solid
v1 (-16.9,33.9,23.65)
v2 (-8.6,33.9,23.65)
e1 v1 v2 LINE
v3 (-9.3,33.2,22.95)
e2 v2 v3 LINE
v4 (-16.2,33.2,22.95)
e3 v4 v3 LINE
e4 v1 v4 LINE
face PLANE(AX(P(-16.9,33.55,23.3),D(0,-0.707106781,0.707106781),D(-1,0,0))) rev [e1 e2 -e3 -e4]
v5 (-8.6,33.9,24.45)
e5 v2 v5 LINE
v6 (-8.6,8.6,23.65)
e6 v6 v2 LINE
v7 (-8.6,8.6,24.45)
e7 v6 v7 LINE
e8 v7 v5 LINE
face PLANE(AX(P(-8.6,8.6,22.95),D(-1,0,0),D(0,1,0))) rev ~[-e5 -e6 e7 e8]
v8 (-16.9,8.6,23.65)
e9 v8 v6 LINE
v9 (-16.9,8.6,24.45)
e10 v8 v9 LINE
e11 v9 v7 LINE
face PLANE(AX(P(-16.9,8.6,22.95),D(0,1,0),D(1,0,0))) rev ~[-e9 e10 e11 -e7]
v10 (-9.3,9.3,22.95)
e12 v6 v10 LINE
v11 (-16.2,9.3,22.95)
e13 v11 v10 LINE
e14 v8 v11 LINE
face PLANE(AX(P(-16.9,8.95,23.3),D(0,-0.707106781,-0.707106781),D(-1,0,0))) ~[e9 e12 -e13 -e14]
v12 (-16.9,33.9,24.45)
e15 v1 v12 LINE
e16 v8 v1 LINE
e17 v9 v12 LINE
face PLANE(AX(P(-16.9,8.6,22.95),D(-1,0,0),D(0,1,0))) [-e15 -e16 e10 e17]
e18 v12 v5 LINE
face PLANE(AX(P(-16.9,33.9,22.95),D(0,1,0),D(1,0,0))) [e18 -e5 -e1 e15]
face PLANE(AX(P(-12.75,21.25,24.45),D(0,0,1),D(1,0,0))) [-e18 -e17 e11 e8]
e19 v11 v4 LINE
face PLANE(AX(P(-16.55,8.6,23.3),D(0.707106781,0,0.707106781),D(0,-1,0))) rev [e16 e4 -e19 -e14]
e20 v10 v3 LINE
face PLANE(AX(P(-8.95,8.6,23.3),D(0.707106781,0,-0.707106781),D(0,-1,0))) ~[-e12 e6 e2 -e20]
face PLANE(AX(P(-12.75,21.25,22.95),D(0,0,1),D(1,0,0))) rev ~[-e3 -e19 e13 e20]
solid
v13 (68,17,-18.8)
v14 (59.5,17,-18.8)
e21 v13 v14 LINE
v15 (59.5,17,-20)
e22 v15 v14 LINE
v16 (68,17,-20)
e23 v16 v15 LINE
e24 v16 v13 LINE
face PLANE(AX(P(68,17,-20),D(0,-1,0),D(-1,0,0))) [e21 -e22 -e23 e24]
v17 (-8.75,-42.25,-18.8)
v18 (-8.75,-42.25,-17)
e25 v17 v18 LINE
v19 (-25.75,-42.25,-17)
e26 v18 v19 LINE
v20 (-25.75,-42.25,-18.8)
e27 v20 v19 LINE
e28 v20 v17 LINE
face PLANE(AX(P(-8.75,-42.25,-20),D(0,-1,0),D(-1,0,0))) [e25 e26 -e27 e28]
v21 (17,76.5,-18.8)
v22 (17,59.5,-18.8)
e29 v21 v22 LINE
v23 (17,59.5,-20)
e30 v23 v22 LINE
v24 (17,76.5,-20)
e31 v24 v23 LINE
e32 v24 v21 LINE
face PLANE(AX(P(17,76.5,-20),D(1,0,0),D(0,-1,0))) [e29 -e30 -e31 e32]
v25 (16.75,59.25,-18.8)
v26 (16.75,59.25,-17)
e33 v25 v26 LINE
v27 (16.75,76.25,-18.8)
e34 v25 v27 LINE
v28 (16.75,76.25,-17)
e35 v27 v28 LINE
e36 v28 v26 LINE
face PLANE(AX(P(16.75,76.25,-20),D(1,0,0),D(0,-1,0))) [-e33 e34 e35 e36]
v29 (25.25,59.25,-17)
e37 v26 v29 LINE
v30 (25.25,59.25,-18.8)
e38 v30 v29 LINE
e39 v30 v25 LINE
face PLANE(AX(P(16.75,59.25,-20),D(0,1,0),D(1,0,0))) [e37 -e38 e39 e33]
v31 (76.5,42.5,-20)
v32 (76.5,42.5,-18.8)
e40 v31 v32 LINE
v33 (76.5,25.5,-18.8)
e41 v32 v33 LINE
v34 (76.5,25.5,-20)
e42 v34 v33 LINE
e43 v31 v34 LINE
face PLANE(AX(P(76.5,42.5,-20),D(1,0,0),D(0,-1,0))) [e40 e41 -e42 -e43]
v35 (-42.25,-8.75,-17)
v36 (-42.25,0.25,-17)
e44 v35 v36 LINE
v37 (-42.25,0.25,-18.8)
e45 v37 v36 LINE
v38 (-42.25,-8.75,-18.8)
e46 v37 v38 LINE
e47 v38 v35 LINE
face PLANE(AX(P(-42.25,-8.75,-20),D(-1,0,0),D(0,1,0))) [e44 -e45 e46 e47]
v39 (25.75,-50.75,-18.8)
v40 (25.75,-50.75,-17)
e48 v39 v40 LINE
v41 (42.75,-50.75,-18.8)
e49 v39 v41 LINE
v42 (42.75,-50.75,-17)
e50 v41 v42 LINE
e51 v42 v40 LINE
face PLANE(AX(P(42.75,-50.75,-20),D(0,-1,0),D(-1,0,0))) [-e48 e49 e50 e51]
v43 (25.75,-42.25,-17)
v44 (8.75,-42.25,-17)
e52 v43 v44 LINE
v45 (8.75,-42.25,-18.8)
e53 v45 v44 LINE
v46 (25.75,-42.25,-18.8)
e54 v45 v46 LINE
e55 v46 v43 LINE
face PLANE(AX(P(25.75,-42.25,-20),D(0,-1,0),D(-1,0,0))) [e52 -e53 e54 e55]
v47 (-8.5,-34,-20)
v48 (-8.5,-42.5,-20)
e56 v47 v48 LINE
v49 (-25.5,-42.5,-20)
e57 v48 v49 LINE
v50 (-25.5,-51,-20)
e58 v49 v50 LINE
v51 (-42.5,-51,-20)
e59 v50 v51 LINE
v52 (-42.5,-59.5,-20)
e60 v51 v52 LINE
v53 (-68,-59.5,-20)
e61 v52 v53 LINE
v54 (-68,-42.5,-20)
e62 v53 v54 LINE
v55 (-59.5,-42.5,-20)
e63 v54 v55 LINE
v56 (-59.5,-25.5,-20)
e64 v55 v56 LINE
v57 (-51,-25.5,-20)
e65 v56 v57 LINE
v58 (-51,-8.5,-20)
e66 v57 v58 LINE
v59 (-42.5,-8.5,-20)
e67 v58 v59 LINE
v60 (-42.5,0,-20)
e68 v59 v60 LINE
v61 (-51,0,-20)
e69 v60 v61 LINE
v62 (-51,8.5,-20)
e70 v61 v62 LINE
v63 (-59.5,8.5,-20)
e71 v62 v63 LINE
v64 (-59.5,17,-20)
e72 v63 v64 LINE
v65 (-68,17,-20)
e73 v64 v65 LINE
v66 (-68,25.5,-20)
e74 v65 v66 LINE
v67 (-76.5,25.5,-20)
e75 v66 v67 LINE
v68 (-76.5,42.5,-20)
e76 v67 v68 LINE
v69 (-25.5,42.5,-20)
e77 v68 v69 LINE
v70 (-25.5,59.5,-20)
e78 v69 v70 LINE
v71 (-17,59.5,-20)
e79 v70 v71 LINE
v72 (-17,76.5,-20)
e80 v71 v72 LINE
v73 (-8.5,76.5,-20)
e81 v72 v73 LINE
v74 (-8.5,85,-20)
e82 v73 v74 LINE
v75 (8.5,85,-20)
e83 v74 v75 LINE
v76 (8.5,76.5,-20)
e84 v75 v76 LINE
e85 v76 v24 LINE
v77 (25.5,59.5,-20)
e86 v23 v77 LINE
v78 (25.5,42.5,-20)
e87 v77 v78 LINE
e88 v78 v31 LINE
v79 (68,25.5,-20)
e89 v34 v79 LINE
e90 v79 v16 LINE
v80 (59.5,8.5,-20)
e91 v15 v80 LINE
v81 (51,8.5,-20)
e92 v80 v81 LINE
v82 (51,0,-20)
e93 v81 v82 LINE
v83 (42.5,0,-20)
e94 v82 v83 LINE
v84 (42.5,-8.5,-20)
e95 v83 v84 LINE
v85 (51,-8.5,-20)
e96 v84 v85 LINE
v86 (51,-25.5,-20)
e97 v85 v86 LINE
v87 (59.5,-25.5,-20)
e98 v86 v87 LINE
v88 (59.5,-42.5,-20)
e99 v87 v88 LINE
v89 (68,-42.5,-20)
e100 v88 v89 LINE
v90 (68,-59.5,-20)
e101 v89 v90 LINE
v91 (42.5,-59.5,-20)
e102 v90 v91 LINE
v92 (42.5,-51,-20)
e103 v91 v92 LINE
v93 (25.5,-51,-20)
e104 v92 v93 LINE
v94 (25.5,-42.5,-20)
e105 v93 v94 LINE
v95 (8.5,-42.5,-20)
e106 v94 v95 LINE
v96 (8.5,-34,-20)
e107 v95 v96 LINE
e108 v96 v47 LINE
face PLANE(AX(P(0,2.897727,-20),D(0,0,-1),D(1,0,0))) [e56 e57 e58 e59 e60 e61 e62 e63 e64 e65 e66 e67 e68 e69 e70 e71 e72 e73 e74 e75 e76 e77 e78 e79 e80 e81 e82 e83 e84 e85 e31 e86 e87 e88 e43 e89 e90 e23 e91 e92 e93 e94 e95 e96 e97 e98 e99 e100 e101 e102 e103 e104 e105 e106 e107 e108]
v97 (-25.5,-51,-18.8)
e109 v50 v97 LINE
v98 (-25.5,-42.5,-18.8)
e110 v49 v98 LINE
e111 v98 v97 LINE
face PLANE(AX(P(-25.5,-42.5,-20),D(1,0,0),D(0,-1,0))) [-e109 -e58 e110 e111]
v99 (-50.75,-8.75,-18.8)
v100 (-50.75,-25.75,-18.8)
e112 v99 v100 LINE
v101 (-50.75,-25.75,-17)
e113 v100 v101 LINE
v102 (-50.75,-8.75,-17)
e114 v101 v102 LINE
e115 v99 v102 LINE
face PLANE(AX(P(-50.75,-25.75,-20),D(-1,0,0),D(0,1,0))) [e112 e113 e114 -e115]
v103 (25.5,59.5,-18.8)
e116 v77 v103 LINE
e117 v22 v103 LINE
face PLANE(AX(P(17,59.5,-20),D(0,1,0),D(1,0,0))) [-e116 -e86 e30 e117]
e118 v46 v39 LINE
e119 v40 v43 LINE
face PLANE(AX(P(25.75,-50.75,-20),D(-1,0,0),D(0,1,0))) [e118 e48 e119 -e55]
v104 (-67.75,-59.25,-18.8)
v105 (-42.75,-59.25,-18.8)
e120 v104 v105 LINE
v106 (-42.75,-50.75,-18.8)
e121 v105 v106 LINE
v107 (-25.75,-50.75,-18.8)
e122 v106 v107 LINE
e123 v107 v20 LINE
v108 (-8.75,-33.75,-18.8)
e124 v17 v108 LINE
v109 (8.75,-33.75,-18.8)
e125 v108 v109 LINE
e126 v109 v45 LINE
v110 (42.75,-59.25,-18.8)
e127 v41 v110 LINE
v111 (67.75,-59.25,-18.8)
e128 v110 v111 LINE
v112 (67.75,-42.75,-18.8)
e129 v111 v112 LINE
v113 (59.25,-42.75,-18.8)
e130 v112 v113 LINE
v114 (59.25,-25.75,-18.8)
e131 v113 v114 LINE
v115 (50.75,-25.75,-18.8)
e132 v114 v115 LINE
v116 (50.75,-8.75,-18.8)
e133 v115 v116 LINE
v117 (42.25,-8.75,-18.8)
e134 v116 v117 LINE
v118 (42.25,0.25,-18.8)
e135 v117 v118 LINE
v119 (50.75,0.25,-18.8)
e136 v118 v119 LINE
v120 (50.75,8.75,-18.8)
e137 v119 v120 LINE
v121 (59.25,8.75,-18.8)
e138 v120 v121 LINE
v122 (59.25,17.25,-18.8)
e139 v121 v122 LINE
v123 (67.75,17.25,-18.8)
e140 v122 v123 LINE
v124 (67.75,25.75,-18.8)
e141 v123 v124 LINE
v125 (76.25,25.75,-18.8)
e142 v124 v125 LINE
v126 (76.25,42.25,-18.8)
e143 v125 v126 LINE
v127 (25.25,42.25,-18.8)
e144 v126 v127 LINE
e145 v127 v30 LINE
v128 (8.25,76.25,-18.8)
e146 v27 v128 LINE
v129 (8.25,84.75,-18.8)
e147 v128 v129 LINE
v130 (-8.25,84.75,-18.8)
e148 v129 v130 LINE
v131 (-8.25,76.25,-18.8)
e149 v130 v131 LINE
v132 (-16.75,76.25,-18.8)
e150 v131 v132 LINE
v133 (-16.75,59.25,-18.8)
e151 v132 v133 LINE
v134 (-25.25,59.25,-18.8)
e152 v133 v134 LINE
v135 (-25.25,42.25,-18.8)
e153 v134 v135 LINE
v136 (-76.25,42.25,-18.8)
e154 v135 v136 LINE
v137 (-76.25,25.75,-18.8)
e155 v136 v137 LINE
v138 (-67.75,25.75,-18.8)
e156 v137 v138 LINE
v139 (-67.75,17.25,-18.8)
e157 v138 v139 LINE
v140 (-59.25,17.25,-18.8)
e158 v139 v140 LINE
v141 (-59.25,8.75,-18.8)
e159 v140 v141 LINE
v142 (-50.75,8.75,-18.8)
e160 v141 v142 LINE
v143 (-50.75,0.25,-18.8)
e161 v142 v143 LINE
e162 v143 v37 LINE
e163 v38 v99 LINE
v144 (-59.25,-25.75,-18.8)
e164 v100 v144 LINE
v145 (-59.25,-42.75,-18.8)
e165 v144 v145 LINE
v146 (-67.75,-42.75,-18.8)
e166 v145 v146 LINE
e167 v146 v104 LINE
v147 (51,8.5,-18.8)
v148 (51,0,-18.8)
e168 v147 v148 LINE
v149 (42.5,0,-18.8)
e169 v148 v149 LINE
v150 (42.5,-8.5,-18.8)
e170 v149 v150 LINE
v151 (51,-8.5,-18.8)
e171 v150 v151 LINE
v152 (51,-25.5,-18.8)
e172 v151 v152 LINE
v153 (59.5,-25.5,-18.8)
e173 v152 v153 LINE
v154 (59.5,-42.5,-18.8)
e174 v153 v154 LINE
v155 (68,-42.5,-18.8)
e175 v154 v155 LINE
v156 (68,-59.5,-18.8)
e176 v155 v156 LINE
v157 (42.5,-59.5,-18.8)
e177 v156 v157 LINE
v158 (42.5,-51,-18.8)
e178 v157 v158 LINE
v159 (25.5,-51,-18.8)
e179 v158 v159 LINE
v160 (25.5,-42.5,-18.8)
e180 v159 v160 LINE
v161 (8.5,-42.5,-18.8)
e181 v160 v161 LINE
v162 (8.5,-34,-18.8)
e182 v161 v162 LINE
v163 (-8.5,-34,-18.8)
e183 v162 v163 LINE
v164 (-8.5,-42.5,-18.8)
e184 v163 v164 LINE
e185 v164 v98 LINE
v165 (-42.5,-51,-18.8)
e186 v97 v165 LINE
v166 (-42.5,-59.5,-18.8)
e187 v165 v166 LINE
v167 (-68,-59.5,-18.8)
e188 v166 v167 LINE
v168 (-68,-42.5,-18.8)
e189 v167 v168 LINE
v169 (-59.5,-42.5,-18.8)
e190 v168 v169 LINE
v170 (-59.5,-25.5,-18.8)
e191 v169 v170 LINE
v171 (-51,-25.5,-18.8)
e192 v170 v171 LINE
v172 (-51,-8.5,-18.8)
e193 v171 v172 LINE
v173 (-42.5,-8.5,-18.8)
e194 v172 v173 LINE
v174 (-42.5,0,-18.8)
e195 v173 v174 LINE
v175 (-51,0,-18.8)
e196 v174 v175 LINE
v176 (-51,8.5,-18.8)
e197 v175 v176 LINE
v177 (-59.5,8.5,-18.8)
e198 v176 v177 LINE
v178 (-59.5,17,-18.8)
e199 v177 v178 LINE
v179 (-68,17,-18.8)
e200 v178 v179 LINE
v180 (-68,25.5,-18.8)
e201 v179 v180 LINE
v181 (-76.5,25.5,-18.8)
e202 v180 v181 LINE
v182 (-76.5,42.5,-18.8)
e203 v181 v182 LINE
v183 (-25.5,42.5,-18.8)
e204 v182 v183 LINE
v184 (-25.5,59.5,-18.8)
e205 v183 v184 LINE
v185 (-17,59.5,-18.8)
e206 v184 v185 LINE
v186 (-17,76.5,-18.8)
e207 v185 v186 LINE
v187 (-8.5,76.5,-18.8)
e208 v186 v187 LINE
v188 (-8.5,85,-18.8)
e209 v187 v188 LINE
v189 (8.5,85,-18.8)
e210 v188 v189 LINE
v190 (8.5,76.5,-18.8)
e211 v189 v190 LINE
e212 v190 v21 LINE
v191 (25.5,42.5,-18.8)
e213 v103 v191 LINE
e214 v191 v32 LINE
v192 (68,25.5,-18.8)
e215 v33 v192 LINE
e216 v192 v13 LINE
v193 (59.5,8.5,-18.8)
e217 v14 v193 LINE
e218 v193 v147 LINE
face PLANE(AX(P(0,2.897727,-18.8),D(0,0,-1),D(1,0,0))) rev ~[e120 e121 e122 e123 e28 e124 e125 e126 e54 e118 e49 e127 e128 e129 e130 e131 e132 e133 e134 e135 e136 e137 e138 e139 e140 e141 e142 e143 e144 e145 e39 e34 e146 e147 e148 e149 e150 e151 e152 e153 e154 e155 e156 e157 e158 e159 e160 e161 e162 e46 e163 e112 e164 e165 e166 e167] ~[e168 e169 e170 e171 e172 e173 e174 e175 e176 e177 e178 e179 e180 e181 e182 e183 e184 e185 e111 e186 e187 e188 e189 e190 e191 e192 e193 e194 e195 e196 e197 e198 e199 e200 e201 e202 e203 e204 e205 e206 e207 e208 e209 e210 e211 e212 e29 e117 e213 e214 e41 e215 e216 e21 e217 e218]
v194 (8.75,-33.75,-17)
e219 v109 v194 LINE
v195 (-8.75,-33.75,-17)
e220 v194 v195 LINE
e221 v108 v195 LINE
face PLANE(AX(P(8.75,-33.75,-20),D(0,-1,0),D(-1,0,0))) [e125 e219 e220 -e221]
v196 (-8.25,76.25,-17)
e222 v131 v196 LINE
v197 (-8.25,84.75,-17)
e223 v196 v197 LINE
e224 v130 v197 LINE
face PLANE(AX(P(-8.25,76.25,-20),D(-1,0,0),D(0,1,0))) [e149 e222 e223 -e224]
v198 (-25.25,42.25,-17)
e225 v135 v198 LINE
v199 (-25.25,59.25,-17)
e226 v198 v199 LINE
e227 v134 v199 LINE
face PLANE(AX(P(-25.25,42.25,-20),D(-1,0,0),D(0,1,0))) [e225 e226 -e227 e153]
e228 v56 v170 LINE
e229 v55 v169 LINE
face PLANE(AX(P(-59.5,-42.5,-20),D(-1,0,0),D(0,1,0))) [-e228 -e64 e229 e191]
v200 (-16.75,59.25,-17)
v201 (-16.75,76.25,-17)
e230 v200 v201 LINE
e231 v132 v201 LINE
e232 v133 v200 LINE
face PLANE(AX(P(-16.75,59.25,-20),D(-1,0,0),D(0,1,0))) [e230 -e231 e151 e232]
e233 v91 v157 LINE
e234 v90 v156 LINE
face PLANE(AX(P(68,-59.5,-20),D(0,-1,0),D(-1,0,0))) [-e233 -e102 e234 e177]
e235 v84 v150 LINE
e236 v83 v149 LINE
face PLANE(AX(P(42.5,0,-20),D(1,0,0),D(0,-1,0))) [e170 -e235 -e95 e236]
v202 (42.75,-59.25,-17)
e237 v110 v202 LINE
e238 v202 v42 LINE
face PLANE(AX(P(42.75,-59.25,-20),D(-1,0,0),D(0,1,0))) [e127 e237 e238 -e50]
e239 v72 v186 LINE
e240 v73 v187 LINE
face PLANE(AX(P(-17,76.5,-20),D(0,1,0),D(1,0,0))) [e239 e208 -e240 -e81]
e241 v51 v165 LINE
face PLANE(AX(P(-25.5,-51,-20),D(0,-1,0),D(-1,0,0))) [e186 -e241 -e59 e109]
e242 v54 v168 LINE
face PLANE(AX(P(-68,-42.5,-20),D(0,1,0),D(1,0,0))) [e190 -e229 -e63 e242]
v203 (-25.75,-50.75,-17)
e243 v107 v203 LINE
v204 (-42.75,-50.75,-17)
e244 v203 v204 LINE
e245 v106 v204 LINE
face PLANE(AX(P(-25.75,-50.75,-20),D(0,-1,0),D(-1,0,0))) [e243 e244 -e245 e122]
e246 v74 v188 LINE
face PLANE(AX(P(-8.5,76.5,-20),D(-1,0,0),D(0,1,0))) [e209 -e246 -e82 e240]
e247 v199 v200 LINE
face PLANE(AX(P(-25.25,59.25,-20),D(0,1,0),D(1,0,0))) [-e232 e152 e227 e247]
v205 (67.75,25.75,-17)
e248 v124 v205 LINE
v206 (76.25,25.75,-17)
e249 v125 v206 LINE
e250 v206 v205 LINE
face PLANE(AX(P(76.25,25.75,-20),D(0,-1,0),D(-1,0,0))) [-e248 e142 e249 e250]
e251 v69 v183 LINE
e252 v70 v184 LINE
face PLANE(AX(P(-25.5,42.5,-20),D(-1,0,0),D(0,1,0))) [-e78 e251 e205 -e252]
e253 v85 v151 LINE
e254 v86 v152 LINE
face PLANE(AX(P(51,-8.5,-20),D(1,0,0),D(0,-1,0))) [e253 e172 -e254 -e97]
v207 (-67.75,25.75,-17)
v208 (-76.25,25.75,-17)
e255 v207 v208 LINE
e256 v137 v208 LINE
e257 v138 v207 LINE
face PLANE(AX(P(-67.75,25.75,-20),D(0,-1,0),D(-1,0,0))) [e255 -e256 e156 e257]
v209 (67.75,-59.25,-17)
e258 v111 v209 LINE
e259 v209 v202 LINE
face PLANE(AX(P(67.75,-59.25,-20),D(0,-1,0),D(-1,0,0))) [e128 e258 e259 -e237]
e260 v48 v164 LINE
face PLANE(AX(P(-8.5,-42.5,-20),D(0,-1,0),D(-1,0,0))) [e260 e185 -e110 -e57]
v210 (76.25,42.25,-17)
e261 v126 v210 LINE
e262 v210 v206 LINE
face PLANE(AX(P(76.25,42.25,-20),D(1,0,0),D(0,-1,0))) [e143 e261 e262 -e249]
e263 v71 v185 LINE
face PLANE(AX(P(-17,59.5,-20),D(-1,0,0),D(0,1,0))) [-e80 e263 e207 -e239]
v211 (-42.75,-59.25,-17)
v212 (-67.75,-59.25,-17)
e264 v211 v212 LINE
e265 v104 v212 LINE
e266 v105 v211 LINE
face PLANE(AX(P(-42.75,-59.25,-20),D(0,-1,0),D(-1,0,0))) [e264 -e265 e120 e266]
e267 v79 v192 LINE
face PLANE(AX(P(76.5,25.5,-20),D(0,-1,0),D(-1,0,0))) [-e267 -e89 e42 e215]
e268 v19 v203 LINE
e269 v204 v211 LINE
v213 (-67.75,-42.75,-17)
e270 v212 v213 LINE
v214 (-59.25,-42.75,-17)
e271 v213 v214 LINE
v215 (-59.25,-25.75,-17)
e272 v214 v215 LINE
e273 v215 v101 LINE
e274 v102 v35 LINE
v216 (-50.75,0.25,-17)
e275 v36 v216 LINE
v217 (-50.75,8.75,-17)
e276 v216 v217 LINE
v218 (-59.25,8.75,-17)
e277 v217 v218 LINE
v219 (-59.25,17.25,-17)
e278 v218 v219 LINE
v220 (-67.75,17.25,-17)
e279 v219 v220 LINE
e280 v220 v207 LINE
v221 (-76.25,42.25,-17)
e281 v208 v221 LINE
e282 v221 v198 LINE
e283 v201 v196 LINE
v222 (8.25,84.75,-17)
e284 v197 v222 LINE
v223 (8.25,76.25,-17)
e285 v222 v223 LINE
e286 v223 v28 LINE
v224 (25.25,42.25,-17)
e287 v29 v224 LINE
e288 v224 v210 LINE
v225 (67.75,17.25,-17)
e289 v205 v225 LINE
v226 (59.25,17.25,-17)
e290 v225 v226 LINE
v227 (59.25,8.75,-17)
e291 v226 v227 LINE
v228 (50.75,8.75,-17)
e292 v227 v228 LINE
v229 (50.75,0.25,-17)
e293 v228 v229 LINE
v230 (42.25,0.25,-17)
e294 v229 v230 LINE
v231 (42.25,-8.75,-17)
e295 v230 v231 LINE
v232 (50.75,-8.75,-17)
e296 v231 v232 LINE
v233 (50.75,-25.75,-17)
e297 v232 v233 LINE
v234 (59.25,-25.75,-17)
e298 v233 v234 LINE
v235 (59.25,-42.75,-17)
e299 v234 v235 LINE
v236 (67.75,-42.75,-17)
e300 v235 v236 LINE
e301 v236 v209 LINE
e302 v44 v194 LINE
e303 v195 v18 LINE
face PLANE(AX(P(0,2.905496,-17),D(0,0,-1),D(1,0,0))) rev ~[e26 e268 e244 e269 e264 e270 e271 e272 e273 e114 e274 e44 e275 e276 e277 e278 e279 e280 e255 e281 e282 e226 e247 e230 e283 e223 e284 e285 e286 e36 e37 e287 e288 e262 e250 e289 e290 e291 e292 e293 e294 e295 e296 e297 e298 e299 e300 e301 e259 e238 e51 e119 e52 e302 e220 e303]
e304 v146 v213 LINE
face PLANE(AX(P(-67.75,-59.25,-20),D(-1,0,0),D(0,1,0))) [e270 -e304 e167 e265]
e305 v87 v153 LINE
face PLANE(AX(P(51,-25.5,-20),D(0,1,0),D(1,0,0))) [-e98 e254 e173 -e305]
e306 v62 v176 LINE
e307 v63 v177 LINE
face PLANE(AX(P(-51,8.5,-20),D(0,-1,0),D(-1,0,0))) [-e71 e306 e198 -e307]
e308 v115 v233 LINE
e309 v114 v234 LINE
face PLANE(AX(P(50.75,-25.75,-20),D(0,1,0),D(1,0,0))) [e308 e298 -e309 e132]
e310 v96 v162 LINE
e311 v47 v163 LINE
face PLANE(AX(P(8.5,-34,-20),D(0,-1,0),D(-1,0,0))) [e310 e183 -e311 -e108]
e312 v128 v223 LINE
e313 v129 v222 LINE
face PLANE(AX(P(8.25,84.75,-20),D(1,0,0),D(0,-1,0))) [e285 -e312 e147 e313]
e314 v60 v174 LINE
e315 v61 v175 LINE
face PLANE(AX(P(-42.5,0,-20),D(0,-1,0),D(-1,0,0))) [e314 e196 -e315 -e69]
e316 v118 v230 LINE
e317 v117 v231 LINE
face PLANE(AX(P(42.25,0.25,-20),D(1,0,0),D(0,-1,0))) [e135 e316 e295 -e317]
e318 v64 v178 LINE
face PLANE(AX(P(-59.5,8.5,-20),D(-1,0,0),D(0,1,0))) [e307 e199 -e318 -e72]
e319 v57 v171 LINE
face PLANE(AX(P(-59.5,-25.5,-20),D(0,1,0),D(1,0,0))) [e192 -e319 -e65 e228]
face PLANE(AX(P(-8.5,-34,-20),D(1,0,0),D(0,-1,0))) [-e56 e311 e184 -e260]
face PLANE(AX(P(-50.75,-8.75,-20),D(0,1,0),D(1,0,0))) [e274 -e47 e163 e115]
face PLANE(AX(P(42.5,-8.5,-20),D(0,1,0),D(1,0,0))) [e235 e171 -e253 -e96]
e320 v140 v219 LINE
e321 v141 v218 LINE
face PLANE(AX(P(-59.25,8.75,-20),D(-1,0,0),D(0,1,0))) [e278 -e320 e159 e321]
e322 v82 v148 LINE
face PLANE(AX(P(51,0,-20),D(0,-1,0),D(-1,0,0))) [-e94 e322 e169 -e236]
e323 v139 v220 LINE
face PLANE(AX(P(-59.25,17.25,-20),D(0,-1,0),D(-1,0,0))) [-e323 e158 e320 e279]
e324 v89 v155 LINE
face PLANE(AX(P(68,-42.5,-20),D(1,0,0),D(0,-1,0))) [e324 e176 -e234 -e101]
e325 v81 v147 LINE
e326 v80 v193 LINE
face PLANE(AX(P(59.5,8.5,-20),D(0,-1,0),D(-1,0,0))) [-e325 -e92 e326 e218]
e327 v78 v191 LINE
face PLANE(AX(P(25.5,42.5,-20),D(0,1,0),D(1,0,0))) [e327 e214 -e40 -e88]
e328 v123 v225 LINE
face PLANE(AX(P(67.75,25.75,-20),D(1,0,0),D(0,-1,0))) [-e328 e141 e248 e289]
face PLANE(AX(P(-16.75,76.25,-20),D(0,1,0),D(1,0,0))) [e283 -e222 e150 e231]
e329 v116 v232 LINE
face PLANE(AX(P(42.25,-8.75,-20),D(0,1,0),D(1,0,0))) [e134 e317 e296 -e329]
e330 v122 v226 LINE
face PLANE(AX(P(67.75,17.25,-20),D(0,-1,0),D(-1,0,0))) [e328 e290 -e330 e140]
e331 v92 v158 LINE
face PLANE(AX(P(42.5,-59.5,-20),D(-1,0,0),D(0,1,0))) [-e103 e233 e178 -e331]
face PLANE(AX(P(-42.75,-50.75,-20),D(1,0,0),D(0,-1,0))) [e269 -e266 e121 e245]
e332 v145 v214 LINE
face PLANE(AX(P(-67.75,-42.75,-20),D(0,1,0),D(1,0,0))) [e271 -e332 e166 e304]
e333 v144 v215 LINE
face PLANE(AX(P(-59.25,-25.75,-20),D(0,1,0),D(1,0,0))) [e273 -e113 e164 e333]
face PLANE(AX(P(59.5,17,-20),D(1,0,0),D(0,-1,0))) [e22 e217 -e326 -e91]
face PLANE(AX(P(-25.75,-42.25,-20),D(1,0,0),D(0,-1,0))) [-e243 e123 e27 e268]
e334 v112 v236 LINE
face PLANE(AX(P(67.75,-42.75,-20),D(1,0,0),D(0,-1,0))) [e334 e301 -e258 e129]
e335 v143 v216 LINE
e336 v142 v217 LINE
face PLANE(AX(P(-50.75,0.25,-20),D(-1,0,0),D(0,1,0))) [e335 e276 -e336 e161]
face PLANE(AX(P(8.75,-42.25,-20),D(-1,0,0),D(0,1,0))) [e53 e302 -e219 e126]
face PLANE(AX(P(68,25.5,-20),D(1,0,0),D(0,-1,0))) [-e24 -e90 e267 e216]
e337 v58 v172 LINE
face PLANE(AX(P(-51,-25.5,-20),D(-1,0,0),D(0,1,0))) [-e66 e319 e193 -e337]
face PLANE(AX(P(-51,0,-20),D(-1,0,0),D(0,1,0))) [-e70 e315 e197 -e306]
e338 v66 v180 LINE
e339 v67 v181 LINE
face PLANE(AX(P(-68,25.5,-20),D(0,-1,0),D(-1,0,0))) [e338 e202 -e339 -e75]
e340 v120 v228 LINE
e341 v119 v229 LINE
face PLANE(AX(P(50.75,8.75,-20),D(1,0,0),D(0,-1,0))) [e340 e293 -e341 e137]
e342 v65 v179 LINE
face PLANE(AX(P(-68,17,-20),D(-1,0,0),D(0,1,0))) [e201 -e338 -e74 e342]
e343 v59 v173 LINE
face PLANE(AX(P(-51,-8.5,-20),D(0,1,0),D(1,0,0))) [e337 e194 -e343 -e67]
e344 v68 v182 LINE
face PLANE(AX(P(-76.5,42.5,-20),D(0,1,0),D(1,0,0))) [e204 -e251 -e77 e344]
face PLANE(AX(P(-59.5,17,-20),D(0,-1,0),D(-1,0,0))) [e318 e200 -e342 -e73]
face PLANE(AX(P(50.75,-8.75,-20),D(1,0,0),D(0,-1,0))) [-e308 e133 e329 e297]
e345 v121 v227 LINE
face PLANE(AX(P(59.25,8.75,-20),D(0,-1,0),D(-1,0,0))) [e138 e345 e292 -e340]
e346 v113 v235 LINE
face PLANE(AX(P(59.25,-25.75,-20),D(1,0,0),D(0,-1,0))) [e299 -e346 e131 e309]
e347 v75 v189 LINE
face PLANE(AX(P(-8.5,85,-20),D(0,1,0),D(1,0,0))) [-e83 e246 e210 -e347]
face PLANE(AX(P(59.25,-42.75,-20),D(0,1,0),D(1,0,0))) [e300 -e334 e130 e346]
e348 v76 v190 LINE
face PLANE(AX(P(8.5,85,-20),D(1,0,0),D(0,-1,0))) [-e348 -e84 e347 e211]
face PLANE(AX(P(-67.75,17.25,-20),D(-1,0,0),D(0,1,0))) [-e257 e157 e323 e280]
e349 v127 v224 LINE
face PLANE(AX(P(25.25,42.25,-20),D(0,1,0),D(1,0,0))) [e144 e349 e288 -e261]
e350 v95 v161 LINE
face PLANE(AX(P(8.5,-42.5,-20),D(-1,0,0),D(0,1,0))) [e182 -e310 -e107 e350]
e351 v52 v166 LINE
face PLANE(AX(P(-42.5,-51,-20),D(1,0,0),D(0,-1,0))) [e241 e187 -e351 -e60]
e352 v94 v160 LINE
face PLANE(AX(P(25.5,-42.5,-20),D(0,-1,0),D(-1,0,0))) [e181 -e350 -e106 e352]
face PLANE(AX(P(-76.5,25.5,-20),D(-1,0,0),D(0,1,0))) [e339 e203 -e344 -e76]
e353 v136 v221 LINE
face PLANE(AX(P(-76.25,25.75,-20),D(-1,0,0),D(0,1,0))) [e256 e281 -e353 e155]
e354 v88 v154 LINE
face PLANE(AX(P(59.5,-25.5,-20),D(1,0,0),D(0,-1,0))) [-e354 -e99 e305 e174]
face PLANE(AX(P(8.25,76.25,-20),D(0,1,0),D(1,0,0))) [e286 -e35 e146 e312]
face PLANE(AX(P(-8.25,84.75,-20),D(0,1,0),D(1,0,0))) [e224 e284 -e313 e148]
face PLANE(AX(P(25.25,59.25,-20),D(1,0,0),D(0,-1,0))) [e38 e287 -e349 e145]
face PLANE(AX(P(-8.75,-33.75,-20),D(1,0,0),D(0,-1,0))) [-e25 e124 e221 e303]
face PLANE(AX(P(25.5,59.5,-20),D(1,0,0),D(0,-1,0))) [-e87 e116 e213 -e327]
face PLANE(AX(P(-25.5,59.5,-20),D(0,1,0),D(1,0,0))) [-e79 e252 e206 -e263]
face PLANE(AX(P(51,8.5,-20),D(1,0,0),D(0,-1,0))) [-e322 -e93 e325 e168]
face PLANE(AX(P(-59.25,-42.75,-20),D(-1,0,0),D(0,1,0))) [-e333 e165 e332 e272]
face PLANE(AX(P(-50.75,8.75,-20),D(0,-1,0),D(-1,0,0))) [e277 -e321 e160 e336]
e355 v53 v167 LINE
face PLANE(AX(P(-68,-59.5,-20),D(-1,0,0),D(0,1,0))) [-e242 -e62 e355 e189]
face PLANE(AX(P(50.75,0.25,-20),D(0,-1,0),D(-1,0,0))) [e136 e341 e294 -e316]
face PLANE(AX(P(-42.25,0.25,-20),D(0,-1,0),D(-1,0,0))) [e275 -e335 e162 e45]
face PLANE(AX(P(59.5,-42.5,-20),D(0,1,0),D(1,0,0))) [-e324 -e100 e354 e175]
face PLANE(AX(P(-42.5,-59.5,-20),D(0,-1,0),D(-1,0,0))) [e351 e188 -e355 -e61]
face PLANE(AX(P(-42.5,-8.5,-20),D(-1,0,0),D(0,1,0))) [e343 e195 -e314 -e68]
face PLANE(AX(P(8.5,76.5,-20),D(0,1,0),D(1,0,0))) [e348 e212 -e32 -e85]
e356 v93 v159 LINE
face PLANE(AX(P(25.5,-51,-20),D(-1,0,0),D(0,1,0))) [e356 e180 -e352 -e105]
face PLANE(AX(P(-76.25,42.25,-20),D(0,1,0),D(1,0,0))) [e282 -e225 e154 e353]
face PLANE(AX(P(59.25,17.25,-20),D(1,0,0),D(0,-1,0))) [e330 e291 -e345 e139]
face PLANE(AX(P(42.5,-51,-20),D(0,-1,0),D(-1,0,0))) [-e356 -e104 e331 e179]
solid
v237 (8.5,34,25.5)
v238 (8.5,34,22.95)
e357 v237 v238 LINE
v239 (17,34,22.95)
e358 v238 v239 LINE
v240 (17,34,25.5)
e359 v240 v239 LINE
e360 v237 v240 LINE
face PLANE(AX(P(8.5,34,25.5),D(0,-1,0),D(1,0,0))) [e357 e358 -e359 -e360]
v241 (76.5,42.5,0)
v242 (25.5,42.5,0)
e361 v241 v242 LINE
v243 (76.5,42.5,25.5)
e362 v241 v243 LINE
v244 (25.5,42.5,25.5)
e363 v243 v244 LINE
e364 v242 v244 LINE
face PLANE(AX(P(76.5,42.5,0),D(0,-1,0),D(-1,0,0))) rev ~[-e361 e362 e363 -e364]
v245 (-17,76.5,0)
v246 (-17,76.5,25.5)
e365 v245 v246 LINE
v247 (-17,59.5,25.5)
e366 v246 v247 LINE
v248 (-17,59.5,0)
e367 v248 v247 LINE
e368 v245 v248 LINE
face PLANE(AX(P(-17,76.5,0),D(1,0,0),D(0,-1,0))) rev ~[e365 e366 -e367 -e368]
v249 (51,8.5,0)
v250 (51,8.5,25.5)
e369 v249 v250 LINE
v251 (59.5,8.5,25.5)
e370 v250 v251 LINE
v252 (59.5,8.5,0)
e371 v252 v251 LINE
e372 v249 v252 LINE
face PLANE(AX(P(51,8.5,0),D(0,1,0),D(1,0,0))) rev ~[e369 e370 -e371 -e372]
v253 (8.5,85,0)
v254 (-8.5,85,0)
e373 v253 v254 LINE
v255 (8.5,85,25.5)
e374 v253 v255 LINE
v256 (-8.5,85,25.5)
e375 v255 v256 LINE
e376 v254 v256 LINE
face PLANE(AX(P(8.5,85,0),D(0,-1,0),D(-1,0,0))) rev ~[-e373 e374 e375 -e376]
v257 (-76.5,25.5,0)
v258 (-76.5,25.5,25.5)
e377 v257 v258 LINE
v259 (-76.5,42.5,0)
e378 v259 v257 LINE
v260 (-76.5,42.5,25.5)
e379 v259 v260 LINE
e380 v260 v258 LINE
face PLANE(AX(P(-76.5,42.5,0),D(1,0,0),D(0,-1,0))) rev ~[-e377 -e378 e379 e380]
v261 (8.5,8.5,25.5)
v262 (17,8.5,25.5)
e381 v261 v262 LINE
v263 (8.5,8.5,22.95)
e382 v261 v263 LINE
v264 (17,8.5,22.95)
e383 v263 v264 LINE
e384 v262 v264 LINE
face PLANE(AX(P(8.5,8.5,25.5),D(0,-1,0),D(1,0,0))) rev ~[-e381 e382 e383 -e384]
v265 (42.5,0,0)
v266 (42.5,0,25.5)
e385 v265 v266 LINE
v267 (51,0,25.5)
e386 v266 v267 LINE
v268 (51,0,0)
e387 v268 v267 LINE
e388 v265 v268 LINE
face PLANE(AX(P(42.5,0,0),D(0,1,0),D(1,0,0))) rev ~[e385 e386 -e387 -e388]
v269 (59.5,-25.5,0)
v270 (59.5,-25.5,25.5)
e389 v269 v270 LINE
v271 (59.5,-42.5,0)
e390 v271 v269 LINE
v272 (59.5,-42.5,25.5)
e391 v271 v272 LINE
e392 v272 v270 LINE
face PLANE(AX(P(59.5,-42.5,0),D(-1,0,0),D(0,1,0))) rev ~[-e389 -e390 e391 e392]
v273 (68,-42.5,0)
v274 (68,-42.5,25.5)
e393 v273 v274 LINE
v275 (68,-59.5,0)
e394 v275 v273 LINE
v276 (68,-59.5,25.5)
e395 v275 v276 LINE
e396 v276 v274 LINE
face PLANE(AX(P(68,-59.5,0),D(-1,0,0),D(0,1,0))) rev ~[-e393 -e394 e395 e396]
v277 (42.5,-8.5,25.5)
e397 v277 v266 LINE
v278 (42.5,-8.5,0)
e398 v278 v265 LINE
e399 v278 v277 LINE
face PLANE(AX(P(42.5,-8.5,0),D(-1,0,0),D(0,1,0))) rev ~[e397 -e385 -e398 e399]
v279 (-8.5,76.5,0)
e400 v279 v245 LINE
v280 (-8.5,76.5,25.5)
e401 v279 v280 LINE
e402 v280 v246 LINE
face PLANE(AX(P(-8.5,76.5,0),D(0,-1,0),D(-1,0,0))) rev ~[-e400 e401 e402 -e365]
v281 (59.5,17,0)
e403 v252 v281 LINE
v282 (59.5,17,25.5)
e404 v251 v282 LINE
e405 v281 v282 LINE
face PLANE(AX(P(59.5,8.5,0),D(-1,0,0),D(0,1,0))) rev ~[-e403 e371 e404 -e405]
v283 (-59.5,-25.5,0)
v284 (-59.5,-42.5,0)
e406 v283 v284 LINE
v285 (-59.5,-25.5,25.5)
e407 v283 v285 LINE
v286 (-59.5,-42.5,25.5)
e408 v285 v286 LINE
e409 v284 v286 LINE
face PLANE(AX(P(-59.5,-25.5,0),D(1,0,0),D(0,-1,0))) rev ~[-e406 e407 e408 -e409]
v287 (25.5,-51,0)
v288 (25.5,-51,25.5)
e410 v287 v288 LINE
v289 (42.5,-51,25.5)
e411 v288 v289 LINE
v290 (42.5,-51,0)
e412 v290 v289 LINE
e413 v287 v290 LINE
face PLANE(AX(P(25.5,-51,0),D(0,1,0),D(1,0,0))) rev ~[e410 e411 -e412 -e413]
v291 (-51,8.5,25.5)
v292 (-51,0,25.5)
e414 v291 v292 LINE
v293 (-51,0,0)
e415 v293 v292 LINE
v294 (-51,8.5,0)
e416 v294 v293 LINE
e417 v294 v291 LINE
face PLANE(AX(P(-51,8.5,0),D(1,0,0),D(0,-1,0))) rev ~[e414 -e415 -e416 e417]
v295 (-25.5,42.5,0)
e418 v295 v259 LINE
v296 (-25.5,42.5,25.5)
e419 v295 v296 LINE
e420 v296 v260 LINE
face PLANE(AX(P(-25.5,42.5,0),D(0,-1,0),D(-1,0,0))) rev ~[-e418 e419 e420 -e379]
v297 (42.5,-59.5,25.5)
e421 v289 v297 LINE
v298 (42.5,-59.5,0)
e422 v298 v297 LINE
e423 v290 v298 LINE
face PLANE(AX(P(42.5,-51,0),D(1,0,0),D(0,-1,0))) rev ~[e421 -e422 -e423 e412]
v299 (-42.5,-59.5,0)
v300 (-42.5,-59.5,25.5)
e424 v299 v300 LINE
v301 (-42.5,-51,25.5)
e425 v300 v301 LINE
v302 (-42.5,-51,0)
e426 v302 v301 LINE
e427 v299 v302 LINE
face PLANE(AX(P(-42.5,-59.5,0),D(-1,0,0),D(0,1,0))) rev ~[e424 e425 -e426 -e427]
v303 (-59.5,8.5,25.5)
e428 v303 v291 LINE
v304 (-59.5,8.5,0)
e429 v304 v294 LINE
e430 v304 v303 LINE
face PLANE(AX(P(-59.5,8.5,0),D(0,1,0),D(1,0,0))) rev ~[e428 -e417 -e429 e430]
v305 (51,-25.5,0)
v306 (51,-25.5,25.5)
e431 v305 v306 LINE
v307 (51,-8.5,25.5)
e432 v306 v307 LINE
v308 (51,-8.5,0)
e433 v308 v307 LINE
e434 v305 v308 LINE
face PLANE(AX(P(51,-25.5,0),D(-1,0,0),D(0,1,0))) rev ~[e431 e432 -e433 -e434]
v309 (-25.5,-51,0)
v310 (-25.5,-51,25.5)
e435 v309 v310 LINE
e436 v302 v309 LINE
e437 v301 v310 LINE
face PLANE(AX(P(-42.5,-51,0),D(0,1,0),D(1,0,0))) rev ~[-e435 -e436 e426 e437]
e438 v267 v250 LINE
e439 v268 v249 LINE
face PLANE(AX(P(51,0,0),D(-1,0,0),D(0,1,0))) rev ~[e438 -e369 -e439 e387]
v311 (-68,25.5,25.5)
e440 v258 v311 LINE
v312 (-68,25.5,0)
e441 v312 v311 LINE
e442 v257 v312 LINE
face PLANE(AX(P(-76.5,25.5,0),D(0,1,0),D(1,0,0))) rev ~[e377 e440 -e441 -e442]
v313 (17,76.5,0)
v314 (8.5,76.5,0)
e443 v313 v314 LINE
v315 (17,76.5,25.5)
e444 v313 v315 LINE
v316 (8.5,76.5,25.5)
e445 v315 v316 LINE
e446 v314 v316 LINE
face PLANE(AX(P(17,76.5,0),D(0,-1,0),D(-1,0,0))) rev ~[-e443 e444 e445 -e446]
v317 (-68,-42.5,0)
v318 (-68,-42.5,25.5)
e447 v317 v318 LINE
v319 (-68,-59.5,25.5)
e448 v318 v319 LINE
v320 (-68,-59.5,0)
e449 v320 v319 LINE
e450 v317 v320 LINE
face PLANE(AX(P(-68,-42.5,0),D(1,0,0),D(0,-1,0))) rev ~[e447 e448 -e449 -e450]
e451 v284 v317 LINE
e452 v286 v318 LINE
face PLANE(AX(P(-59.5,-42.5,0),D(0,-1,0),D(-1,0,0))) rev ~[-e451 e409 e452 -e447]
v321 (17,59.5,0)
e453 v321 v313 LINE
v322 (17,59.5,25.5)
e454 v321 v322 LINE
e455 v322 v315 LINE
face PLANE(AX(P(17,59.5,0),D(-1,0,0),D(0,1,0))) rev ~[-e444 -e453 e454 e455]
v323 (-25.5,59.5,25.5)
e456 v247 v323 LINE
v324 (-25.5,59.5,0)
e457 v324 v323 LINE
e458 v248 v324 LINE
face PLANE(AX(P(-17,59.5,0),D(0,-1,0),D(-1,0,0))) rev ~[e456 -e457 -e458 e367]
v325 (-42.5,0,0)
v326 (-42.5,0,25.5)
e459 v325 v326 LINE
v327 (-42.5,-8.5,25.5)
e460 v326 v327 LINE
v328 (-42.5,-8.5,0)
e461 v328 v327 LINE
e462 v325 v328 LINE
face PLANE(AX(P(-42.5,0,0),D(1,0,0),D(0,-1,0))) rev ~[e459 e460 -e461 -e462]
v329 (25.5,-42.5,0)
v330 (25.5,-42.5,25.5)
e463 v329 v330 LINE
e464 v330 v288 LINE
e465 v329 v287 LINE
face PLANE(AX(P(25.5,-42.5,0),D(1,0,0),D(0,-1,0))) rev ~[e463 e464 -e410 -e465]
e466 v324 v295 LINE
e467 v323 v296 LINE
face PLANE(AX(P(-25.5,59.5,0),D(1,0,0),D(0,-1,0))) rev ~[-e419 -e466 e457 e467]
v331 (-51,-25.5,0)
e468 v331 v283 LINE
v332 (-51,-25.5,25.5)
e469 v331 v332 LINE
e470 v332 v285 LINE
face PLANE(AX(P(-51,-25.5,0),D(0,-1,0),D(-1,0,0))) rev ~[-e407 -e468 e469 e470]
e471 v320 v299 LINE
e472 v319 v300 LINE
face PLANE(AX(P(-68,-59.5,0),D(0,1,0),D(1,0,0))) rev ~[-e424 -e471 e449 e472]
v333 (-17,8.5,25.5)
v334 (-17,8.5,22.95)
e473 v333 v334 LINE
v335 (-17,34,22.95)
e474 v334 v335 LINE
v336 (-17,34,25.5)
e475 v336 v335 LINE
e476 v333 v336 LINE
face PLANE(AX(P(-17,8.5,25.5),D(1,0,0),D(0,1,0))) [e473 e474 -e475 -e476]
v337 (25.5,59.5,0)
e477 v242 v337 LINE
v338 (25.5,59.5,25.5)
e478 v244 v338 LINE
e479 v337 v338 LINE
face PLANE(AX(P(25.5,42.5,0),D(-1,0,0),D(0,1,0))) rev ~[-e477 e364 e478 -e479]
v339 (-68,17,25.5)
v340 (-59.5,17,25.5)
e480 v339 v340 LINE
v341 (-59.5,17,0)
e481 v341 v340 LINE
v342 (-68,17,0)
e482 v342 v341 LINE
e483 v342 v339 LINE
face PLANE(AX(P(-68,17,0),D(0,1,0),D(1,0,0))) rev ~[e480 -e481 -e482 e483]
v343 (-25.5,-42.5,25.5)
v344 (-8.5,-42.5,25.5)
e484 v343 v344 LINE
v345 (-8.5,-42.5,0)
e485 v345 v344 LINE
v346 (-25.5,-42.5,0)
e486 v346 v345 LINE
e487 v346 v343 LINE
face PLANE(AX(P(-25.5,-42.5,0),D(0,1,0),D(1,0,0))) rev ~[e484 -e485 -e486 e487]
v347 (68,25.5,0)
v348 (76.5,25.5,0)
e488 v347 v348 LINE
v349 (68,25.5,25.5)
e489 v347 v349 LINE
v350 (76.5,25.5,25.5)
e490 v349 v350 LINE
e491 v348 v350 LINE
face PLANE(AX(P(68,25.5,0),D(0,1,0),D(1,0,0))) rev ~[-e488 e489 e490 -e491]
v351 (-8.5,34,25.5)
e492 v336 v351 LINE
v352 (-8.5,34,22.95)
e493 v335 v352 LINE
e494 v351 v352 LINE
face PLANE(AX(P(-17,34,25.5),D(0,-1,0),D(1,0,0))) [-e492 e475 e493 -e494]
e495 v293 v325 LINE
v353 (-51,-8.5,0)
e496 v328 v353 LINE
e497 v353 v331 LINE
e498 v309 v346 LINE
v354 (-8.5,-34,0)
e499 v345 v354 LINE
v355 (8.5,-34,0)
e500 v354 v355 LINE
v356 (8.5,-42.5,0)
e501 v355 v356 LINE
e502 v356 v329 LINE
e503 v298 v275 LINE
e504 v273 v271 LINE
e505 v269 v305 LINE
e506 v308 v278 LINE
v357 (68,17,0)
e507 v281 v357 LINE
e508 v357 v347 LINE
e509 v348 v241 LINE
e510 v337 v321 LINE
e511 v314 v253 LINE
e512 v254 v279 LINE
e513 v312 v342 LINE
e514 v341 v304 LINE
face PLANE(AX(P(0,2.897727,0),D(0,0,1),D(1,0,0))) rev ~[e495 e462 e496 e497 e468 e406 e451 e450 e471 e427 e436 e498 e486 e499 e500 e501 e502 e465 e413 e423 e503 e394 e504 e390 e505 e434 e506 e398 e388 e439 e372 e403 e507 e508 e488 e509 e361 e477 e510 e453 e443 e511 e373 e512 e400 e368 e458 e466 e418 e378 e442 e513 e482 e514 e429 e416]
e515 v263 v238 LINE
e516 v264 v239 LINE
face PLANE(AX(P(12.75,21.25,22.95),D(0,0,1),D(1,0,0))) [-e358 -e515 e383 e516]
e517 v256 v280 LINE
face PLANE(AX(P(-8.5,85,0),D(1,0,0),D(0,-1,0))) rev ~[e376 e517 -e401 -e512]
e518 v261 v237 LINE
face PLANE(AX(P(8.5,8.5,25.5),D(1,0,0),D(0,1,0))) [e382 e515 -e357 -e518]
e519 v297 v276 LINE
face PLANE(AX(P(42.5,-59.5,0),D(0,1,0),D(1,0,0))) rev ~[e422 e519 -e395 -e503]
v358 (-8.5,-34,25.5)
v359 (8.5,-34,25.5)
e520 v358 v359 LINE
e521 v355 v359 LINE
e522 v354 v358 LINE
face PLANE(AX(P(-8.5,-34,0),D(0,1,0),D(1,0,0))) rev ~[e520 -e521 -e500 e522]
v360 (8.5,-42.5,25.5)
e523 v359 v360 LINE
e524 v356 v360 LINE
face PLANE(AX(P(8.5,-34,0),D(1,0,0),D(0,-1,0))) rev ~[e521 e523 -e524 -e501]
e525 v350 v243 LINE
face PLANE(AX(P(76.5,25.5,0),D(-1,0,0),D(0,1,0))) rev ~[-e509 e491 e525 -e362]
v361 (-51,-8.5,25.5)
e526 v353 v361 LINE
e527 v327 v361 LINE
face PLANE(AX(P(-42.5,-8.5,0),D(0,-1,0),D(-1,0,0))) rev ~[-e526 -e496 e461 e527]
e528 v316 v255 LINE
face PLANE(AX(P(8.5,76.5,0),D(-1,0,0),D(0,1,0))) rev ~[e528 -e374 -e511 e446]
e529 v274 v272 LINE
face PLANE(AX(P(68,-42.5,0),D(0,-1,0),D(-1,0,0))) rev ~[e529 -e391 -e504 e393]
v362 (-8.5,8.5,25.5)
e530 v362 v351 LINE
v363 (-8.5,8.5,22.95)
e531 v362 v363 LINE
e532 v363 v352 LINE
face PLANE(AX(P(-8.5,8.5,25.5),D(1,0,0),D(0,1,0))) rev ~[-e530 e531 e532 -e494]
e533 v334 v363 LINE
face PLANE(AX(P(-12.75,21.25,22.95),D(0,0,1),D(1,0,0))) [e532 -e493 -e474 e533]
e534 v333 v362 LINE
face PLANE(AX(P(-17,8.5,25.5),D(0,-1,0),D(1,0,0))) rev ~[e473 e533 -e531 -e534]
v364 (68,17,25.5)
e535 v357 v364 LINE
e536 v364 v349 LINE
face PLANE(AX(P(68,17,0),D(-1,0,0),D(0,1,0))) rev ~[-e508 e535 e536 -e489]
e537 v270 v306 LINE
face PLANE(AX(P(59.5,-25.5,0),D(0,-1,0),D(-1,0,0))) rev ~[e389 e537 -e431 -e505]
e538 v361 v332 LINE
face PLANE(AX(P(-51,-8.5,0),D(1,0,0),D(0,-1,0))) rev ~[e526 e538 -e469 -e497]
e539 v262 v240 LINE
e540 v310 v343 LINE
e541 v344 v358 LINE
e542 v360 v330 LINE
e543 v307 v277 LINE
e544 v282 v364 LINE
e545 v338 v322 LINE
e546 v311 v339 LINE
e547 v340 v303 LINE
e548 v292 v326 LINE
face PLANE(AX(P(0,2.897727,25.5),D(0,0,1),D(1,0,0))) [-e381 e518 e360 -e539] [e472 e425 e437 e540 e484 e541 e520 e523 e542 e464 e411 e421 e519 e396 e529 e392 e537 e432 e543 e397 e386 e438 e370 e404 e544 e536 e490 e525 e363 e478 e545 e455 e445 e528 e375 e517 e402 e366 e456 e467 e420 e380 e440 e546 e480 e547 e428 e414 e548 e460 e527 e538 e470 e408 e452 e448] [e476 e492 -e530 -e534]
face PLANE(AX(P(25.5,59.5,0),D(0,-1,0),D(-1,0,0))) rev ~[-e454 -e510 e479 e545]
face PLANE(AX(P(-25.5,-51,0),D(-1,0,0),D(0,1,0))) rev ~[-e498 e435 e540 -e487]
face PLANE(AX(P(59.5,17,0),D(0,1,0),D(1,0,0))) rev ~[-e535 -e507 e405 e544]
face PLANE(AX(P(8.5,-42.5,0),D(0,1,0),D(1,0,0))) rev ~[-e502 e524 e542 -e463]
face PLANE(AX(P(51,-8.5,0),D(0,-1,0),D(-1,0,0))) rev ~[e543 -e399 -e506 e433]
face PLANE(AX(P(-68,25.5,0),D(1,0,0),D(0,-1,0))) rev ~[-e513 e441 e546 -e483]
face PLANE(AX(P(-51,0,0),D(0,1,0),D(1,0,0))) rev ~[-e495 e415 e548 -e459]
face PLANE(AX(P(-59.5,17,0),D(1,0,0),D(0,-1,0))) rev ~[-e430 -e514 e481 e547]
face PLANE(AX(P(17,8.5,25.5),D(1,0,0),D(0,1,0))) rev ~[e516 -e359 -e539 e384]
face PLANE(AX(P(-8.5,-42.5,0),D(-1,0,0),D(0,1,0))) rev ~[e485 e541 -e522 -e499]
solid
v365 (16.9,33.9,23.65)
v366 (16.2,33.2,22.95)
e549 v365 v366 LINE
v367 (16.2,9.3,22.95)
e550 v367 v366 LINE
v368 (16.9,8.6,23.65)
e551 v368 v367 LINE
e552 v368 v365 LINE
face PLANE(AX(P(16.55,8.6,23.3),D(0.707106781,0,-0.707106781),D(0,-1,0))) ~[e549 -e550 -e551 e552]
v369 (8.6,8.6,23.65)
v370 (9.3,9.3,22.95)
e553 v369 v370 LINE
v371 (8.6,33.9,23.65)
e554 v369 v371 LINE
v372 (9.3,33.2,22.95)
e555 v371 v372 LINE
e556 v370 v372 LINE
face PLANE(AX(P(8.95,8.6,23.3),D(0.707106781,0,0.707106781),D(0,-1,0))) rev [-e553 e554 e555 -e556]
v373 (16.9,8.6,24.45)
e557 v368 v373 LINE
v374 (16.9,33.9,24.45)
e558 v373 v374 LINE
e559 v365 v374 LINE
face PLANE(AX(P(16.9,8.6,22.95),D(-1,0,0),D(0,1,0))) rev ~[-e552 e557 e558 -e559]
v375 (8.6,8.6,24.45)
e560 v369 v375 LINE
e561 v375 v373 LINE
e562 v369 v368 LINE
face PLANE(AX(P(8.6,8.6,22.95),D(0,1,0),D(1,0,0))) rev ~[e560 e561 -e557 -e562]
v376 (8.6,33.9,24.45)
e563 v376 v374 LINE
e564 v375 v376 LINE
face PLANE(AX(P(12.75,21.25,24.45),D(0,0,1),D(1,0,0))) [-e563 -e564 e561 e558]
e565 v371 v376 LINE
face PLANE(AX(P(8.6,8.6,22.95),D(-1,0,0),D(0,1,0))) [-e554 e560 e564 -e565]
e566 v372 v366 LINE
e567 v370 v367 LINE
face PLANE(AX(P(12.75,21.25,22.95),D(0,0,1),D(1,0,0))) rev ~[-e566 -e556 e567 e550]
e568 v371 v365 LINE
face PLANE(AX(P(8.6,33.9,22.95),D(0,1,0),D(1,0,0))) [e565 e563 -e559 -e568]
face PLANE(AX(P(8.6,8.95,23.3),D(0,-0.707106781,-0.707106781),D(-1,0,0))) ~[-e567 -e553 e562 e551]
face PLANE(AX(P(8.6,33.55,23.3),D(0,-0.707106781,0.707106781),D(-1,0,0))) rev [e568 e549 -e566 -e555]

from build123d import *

# Parameters (mm, degrees)
F2_DEPTH  = 25.5
F3_W      = 8.5
F3_H      = 25.5
F4_DEPTH  = 2.55
F6_W      = 8.3
F6_H      = 25.3
F7_DEPTH  = 1.5
F8_SIZE   = 0.7
F8_2_SIZE = 0.7
F11_DEPTH = 3
F12_DEPTH = 1.2


with BuildPart() as f2:
    # F1 (on Top) → F2 (new body)
    with BuildSketch(Plane.XY):
        Polygon((8.5, 85), (0, 85), (-8.5, 85), (-8.5, 76.5), (-17, 76.5), (-17, 59.5), (-25.5, 59.5), (-25.5, 42.5), (-76.5, 42.5), (-76.5, 25.5), (-68, 25.5), (-68, 17), (-59.5, 17), (-59.5, 8.5), (-51, 8.5), (-51, 0), (-42.5, 0), (-42.5, -8.5), (-51, -8.5), (-51, -25.5), (-59.5, -25.5), (-59.5, -42.5), (-68, -42.5), (-68, -59.5), (-42.5, -59.5), (-42.5, -51), (-25.5, -51), (-25.5, -42.5), (-8.5, -42.5), (-8.5, -34), (0, -34), (8.5, -34), (8.5, -42.5), (25.5, -42.5), (25.5, -51), (42.5, -51), (42.5, -59.5), (68, -59.5), (68, -42.5), (59.5, -42.5), (59.5, -25.5), (51, -25.5), (51, -8.5), (42.5, -8.5), (42.5, 0), (51, 0), (51, 8.5), (59.5, 8.5), (59.5, 17), (68, 17), (68, 25.5), (76.5, 25.5), (76.5, 42.5), (25.5, 42.5), (25.5, 59.5), (17, 59.5), (17, 76.5), (8.5, 76.5), align=None)
    extrude(amount=F2_DEPTH)

    # F3 (on face) → F4 (cut)
    with BuildSketch(Plane.XY.offset(25.5)):
        with Locations((-12.75, 21.25)):
            Rectangle(F3_W, F3_H)
        with Locations((12.75, 21.25)):
            Rectangle(F3_W, F3_H)
    extrude(amount=-F4_DEPTH, mode=Mode.SUBTRACT)


with BuildPart() as f7:
    # F6 (on face) → F7 (new body)
    with BuildSketch(Plane.XY.offset(22.95)):
        with Locations((-12.75, 21.25)):
            Rectangle(F6_W, F6_H)
    extrude(amount=F7_DEPTH)

    # F8
    f8_edges = [f7.edges().sort_by_distance(p)[0] for p in [
        (-8.6, 21.25, 22.95),
        (-12.75, 33.9, 22.95),
        (-16.9, 21.25, 22.95),
        (-12.75, 8.6, 22.95),
    ]]
    chamfer(f8_edges, length=F8_SIZE)


with BuildPart() as f7b:
    # F6 (on face) → F7, piece 2 (new body)
    with BuildSketch(Plane.XY.offset(22.95)):
        with Locations((12.75, 21.25)):
            Rectangle(F6_W, F6_H)
    extrude(amount=F7_DEPTH)

    # F8#2
    f8_2_edges = [f7b.edges().sort_by_distance(p)[0] for p in [
        (16.9, 21.25, 22.95),
        (12.75, 33.9, 22.95),
        (8.6, 21.25, 22.95),
        (12.75, 8.6, 22.95),
    ]]
    chamfer(f8_2_edges, length=F8_2_SIZE)


with BuildPart() as f11:
    # F10 (on offset) → F11 (new body)
    with BuildSketch(Plane(origin=(0, 0, -20), x_dir=(1, 0, 0), z_dir=(0, 0, -1))):
        Polygon((-42.75, 50.75), (-42.75, 59.25), (-67.75, 59.25), (-67.75, 42.75), (-59.25, 42.75), (-59.25, 25.75), (-50.75, 25.75), (-50.75, 8.75), (-42.25, 8.75), (-42.25, -0.25), (-50.75, -0.25), (-50.75, -8.75), (-59.25, -8.75), (-59.25, -17.25), (-67.75, -17.25), (-67.75, -25.75), (-76.25, -25.75), (-76.25, -42.25), (-25.25, -42.25), (-25.25, -59.25), (-16.75, -59.25), (-16.75, -76.25), (-8.25, -76.25), (-8.25, -84.75), (8.25, -84.75), (8.25, -76.25), (16.75, -76.25), (16.75, -59.25), (25.25, -59.25), (25.25, -42.25), (76.25, -42.25), (76.25, -25.75), (67.75, -25.75), (67.75, -17.25), (59.25, -17.25), (59.25, -8.75), (50.75, -8.75), (50.75, -0.25), (42.25, -0.25), (42.25, 8.75), (50.75, 8.75), (50.75, 25.75), (59.25, 25.75), (59.25, 42.75), (67.75, 42.75), (67.75, 59.25), (42.75, 59.25), (42.75, 50.75), (25.75, 50.75), (25.75, 42.25), (8.75, 42.25), (8.75, 33.75), (-8.75, 33.75), (-8.75, 42.25), (-25.75, 42.25), (-25.75, 50.75), align=None)
    extrude(amount=-F11_DEPTH)

    # F10 (on offset) → F12 (join)
    with BuildSketch(Plane(origin=(0, 0, -20), x_dir=(1, 0, 0), z_dir=(0, 0, -1))):
        Polygon((-8.5, -76.5), (-8.5, -85), (8.5, -85), (8.5, -76.5), (17, -76.5), (17, -59.5), (25.5, -59.5), (25.5, -42.5), (76.5, -42.5), (76.5, -25.5), (68, -25.5), (68, -17), (59.5, -17), (59.5, -8.5), (51, -8.5), (51, 0), (42.5, 0), (42.5, 8.5), (51, 8.5), (51, 25.5), (59.5, 25.5), (59.5, 42.5), (68, 42.5), (68, 59.5), (42.5, 59.5), (42.5, 51), (25.5, 51), (25.5, 42.5), (8.5, 42.5), (8.5, 34), (-8.5, 34), (-8.5, 42.5), (-25.5, 42.5), (-25.5, 51), (-42.5, 51), (-42.5, 59.5), (-68, 59.5), (-68, 42.5), (-59.5, 42.5), (-59.5, 25.5), (-51, 25.5), (-51, 8.5), (-42.5, 8.5), (-42.5, 0), (-51, 0), (-51, -8.5), (-59.5, -8.5), (-59.5, -17), (-68, -17), (-68, -25.5), (-76.5, -25.5), (-76.5, -42.5), (-25.5, -42.5), (-25.5, -59.5), (-17, -59.5), (-17, -76.5), align=None)
        Polygon((-67.75, 59.25), (-42.75, 59.25), (-42.75, 50.75), (-25.75, 50.75), (-25.75, 42.25), (-8.75, 42.25), (-8.75, 33.75), (8.75, 33.75), (8.75, 42.25), (25.75, 42.25), (25.75, 50.75), (42.75, 50.75), (42.75, 59.25), (67.75, 59.25), (67.75, 42.75), (59.25, 42.75), (59.25, 25.75), (50.75, 25.75), (50.75, 8.75), (42.25, 8.75), (42.25, -0.25), (50.75, -0.25), (50.75, -8.75), (59.25, -8.75), (59.25, -17.25), (67.75, -17.25), (67.75, -25.75), (76.25, -25.75), (76.25, -42.25), (25.25, -42.25), (25.25, -59.25), (16.75, -59.25), (16.75, -76.25), (8.25, -76.25), (8.25, -84.75), (-8.25, -84.75), (-8.25, -76.25), (-16.75, -76.25), (-16.75, -59.25), (-25.25, -59.25), (-25.25, -42.25), (-76.25, -42.25), (-76.25, -25.75), (-67.75, -25.75), (-67.75, -17.25), (-59.25, -17.25), (-59.25, -8.75), (-50.75, -8.75), (-50.75, -0.25), (-42.25, -0.25), (-42.25, 8.75), (-50.75, 8.75), (-50.75, 25.75), (-59.25, 25.75), (-59.25, 42.75), (-67.75, 42.75), align=None, mode=Mode.SUBTRACT)
    extrude(amount=-F12_DEPTH)


solid = Compound([f2.part, f7.part, f7b.part, f11.part])
